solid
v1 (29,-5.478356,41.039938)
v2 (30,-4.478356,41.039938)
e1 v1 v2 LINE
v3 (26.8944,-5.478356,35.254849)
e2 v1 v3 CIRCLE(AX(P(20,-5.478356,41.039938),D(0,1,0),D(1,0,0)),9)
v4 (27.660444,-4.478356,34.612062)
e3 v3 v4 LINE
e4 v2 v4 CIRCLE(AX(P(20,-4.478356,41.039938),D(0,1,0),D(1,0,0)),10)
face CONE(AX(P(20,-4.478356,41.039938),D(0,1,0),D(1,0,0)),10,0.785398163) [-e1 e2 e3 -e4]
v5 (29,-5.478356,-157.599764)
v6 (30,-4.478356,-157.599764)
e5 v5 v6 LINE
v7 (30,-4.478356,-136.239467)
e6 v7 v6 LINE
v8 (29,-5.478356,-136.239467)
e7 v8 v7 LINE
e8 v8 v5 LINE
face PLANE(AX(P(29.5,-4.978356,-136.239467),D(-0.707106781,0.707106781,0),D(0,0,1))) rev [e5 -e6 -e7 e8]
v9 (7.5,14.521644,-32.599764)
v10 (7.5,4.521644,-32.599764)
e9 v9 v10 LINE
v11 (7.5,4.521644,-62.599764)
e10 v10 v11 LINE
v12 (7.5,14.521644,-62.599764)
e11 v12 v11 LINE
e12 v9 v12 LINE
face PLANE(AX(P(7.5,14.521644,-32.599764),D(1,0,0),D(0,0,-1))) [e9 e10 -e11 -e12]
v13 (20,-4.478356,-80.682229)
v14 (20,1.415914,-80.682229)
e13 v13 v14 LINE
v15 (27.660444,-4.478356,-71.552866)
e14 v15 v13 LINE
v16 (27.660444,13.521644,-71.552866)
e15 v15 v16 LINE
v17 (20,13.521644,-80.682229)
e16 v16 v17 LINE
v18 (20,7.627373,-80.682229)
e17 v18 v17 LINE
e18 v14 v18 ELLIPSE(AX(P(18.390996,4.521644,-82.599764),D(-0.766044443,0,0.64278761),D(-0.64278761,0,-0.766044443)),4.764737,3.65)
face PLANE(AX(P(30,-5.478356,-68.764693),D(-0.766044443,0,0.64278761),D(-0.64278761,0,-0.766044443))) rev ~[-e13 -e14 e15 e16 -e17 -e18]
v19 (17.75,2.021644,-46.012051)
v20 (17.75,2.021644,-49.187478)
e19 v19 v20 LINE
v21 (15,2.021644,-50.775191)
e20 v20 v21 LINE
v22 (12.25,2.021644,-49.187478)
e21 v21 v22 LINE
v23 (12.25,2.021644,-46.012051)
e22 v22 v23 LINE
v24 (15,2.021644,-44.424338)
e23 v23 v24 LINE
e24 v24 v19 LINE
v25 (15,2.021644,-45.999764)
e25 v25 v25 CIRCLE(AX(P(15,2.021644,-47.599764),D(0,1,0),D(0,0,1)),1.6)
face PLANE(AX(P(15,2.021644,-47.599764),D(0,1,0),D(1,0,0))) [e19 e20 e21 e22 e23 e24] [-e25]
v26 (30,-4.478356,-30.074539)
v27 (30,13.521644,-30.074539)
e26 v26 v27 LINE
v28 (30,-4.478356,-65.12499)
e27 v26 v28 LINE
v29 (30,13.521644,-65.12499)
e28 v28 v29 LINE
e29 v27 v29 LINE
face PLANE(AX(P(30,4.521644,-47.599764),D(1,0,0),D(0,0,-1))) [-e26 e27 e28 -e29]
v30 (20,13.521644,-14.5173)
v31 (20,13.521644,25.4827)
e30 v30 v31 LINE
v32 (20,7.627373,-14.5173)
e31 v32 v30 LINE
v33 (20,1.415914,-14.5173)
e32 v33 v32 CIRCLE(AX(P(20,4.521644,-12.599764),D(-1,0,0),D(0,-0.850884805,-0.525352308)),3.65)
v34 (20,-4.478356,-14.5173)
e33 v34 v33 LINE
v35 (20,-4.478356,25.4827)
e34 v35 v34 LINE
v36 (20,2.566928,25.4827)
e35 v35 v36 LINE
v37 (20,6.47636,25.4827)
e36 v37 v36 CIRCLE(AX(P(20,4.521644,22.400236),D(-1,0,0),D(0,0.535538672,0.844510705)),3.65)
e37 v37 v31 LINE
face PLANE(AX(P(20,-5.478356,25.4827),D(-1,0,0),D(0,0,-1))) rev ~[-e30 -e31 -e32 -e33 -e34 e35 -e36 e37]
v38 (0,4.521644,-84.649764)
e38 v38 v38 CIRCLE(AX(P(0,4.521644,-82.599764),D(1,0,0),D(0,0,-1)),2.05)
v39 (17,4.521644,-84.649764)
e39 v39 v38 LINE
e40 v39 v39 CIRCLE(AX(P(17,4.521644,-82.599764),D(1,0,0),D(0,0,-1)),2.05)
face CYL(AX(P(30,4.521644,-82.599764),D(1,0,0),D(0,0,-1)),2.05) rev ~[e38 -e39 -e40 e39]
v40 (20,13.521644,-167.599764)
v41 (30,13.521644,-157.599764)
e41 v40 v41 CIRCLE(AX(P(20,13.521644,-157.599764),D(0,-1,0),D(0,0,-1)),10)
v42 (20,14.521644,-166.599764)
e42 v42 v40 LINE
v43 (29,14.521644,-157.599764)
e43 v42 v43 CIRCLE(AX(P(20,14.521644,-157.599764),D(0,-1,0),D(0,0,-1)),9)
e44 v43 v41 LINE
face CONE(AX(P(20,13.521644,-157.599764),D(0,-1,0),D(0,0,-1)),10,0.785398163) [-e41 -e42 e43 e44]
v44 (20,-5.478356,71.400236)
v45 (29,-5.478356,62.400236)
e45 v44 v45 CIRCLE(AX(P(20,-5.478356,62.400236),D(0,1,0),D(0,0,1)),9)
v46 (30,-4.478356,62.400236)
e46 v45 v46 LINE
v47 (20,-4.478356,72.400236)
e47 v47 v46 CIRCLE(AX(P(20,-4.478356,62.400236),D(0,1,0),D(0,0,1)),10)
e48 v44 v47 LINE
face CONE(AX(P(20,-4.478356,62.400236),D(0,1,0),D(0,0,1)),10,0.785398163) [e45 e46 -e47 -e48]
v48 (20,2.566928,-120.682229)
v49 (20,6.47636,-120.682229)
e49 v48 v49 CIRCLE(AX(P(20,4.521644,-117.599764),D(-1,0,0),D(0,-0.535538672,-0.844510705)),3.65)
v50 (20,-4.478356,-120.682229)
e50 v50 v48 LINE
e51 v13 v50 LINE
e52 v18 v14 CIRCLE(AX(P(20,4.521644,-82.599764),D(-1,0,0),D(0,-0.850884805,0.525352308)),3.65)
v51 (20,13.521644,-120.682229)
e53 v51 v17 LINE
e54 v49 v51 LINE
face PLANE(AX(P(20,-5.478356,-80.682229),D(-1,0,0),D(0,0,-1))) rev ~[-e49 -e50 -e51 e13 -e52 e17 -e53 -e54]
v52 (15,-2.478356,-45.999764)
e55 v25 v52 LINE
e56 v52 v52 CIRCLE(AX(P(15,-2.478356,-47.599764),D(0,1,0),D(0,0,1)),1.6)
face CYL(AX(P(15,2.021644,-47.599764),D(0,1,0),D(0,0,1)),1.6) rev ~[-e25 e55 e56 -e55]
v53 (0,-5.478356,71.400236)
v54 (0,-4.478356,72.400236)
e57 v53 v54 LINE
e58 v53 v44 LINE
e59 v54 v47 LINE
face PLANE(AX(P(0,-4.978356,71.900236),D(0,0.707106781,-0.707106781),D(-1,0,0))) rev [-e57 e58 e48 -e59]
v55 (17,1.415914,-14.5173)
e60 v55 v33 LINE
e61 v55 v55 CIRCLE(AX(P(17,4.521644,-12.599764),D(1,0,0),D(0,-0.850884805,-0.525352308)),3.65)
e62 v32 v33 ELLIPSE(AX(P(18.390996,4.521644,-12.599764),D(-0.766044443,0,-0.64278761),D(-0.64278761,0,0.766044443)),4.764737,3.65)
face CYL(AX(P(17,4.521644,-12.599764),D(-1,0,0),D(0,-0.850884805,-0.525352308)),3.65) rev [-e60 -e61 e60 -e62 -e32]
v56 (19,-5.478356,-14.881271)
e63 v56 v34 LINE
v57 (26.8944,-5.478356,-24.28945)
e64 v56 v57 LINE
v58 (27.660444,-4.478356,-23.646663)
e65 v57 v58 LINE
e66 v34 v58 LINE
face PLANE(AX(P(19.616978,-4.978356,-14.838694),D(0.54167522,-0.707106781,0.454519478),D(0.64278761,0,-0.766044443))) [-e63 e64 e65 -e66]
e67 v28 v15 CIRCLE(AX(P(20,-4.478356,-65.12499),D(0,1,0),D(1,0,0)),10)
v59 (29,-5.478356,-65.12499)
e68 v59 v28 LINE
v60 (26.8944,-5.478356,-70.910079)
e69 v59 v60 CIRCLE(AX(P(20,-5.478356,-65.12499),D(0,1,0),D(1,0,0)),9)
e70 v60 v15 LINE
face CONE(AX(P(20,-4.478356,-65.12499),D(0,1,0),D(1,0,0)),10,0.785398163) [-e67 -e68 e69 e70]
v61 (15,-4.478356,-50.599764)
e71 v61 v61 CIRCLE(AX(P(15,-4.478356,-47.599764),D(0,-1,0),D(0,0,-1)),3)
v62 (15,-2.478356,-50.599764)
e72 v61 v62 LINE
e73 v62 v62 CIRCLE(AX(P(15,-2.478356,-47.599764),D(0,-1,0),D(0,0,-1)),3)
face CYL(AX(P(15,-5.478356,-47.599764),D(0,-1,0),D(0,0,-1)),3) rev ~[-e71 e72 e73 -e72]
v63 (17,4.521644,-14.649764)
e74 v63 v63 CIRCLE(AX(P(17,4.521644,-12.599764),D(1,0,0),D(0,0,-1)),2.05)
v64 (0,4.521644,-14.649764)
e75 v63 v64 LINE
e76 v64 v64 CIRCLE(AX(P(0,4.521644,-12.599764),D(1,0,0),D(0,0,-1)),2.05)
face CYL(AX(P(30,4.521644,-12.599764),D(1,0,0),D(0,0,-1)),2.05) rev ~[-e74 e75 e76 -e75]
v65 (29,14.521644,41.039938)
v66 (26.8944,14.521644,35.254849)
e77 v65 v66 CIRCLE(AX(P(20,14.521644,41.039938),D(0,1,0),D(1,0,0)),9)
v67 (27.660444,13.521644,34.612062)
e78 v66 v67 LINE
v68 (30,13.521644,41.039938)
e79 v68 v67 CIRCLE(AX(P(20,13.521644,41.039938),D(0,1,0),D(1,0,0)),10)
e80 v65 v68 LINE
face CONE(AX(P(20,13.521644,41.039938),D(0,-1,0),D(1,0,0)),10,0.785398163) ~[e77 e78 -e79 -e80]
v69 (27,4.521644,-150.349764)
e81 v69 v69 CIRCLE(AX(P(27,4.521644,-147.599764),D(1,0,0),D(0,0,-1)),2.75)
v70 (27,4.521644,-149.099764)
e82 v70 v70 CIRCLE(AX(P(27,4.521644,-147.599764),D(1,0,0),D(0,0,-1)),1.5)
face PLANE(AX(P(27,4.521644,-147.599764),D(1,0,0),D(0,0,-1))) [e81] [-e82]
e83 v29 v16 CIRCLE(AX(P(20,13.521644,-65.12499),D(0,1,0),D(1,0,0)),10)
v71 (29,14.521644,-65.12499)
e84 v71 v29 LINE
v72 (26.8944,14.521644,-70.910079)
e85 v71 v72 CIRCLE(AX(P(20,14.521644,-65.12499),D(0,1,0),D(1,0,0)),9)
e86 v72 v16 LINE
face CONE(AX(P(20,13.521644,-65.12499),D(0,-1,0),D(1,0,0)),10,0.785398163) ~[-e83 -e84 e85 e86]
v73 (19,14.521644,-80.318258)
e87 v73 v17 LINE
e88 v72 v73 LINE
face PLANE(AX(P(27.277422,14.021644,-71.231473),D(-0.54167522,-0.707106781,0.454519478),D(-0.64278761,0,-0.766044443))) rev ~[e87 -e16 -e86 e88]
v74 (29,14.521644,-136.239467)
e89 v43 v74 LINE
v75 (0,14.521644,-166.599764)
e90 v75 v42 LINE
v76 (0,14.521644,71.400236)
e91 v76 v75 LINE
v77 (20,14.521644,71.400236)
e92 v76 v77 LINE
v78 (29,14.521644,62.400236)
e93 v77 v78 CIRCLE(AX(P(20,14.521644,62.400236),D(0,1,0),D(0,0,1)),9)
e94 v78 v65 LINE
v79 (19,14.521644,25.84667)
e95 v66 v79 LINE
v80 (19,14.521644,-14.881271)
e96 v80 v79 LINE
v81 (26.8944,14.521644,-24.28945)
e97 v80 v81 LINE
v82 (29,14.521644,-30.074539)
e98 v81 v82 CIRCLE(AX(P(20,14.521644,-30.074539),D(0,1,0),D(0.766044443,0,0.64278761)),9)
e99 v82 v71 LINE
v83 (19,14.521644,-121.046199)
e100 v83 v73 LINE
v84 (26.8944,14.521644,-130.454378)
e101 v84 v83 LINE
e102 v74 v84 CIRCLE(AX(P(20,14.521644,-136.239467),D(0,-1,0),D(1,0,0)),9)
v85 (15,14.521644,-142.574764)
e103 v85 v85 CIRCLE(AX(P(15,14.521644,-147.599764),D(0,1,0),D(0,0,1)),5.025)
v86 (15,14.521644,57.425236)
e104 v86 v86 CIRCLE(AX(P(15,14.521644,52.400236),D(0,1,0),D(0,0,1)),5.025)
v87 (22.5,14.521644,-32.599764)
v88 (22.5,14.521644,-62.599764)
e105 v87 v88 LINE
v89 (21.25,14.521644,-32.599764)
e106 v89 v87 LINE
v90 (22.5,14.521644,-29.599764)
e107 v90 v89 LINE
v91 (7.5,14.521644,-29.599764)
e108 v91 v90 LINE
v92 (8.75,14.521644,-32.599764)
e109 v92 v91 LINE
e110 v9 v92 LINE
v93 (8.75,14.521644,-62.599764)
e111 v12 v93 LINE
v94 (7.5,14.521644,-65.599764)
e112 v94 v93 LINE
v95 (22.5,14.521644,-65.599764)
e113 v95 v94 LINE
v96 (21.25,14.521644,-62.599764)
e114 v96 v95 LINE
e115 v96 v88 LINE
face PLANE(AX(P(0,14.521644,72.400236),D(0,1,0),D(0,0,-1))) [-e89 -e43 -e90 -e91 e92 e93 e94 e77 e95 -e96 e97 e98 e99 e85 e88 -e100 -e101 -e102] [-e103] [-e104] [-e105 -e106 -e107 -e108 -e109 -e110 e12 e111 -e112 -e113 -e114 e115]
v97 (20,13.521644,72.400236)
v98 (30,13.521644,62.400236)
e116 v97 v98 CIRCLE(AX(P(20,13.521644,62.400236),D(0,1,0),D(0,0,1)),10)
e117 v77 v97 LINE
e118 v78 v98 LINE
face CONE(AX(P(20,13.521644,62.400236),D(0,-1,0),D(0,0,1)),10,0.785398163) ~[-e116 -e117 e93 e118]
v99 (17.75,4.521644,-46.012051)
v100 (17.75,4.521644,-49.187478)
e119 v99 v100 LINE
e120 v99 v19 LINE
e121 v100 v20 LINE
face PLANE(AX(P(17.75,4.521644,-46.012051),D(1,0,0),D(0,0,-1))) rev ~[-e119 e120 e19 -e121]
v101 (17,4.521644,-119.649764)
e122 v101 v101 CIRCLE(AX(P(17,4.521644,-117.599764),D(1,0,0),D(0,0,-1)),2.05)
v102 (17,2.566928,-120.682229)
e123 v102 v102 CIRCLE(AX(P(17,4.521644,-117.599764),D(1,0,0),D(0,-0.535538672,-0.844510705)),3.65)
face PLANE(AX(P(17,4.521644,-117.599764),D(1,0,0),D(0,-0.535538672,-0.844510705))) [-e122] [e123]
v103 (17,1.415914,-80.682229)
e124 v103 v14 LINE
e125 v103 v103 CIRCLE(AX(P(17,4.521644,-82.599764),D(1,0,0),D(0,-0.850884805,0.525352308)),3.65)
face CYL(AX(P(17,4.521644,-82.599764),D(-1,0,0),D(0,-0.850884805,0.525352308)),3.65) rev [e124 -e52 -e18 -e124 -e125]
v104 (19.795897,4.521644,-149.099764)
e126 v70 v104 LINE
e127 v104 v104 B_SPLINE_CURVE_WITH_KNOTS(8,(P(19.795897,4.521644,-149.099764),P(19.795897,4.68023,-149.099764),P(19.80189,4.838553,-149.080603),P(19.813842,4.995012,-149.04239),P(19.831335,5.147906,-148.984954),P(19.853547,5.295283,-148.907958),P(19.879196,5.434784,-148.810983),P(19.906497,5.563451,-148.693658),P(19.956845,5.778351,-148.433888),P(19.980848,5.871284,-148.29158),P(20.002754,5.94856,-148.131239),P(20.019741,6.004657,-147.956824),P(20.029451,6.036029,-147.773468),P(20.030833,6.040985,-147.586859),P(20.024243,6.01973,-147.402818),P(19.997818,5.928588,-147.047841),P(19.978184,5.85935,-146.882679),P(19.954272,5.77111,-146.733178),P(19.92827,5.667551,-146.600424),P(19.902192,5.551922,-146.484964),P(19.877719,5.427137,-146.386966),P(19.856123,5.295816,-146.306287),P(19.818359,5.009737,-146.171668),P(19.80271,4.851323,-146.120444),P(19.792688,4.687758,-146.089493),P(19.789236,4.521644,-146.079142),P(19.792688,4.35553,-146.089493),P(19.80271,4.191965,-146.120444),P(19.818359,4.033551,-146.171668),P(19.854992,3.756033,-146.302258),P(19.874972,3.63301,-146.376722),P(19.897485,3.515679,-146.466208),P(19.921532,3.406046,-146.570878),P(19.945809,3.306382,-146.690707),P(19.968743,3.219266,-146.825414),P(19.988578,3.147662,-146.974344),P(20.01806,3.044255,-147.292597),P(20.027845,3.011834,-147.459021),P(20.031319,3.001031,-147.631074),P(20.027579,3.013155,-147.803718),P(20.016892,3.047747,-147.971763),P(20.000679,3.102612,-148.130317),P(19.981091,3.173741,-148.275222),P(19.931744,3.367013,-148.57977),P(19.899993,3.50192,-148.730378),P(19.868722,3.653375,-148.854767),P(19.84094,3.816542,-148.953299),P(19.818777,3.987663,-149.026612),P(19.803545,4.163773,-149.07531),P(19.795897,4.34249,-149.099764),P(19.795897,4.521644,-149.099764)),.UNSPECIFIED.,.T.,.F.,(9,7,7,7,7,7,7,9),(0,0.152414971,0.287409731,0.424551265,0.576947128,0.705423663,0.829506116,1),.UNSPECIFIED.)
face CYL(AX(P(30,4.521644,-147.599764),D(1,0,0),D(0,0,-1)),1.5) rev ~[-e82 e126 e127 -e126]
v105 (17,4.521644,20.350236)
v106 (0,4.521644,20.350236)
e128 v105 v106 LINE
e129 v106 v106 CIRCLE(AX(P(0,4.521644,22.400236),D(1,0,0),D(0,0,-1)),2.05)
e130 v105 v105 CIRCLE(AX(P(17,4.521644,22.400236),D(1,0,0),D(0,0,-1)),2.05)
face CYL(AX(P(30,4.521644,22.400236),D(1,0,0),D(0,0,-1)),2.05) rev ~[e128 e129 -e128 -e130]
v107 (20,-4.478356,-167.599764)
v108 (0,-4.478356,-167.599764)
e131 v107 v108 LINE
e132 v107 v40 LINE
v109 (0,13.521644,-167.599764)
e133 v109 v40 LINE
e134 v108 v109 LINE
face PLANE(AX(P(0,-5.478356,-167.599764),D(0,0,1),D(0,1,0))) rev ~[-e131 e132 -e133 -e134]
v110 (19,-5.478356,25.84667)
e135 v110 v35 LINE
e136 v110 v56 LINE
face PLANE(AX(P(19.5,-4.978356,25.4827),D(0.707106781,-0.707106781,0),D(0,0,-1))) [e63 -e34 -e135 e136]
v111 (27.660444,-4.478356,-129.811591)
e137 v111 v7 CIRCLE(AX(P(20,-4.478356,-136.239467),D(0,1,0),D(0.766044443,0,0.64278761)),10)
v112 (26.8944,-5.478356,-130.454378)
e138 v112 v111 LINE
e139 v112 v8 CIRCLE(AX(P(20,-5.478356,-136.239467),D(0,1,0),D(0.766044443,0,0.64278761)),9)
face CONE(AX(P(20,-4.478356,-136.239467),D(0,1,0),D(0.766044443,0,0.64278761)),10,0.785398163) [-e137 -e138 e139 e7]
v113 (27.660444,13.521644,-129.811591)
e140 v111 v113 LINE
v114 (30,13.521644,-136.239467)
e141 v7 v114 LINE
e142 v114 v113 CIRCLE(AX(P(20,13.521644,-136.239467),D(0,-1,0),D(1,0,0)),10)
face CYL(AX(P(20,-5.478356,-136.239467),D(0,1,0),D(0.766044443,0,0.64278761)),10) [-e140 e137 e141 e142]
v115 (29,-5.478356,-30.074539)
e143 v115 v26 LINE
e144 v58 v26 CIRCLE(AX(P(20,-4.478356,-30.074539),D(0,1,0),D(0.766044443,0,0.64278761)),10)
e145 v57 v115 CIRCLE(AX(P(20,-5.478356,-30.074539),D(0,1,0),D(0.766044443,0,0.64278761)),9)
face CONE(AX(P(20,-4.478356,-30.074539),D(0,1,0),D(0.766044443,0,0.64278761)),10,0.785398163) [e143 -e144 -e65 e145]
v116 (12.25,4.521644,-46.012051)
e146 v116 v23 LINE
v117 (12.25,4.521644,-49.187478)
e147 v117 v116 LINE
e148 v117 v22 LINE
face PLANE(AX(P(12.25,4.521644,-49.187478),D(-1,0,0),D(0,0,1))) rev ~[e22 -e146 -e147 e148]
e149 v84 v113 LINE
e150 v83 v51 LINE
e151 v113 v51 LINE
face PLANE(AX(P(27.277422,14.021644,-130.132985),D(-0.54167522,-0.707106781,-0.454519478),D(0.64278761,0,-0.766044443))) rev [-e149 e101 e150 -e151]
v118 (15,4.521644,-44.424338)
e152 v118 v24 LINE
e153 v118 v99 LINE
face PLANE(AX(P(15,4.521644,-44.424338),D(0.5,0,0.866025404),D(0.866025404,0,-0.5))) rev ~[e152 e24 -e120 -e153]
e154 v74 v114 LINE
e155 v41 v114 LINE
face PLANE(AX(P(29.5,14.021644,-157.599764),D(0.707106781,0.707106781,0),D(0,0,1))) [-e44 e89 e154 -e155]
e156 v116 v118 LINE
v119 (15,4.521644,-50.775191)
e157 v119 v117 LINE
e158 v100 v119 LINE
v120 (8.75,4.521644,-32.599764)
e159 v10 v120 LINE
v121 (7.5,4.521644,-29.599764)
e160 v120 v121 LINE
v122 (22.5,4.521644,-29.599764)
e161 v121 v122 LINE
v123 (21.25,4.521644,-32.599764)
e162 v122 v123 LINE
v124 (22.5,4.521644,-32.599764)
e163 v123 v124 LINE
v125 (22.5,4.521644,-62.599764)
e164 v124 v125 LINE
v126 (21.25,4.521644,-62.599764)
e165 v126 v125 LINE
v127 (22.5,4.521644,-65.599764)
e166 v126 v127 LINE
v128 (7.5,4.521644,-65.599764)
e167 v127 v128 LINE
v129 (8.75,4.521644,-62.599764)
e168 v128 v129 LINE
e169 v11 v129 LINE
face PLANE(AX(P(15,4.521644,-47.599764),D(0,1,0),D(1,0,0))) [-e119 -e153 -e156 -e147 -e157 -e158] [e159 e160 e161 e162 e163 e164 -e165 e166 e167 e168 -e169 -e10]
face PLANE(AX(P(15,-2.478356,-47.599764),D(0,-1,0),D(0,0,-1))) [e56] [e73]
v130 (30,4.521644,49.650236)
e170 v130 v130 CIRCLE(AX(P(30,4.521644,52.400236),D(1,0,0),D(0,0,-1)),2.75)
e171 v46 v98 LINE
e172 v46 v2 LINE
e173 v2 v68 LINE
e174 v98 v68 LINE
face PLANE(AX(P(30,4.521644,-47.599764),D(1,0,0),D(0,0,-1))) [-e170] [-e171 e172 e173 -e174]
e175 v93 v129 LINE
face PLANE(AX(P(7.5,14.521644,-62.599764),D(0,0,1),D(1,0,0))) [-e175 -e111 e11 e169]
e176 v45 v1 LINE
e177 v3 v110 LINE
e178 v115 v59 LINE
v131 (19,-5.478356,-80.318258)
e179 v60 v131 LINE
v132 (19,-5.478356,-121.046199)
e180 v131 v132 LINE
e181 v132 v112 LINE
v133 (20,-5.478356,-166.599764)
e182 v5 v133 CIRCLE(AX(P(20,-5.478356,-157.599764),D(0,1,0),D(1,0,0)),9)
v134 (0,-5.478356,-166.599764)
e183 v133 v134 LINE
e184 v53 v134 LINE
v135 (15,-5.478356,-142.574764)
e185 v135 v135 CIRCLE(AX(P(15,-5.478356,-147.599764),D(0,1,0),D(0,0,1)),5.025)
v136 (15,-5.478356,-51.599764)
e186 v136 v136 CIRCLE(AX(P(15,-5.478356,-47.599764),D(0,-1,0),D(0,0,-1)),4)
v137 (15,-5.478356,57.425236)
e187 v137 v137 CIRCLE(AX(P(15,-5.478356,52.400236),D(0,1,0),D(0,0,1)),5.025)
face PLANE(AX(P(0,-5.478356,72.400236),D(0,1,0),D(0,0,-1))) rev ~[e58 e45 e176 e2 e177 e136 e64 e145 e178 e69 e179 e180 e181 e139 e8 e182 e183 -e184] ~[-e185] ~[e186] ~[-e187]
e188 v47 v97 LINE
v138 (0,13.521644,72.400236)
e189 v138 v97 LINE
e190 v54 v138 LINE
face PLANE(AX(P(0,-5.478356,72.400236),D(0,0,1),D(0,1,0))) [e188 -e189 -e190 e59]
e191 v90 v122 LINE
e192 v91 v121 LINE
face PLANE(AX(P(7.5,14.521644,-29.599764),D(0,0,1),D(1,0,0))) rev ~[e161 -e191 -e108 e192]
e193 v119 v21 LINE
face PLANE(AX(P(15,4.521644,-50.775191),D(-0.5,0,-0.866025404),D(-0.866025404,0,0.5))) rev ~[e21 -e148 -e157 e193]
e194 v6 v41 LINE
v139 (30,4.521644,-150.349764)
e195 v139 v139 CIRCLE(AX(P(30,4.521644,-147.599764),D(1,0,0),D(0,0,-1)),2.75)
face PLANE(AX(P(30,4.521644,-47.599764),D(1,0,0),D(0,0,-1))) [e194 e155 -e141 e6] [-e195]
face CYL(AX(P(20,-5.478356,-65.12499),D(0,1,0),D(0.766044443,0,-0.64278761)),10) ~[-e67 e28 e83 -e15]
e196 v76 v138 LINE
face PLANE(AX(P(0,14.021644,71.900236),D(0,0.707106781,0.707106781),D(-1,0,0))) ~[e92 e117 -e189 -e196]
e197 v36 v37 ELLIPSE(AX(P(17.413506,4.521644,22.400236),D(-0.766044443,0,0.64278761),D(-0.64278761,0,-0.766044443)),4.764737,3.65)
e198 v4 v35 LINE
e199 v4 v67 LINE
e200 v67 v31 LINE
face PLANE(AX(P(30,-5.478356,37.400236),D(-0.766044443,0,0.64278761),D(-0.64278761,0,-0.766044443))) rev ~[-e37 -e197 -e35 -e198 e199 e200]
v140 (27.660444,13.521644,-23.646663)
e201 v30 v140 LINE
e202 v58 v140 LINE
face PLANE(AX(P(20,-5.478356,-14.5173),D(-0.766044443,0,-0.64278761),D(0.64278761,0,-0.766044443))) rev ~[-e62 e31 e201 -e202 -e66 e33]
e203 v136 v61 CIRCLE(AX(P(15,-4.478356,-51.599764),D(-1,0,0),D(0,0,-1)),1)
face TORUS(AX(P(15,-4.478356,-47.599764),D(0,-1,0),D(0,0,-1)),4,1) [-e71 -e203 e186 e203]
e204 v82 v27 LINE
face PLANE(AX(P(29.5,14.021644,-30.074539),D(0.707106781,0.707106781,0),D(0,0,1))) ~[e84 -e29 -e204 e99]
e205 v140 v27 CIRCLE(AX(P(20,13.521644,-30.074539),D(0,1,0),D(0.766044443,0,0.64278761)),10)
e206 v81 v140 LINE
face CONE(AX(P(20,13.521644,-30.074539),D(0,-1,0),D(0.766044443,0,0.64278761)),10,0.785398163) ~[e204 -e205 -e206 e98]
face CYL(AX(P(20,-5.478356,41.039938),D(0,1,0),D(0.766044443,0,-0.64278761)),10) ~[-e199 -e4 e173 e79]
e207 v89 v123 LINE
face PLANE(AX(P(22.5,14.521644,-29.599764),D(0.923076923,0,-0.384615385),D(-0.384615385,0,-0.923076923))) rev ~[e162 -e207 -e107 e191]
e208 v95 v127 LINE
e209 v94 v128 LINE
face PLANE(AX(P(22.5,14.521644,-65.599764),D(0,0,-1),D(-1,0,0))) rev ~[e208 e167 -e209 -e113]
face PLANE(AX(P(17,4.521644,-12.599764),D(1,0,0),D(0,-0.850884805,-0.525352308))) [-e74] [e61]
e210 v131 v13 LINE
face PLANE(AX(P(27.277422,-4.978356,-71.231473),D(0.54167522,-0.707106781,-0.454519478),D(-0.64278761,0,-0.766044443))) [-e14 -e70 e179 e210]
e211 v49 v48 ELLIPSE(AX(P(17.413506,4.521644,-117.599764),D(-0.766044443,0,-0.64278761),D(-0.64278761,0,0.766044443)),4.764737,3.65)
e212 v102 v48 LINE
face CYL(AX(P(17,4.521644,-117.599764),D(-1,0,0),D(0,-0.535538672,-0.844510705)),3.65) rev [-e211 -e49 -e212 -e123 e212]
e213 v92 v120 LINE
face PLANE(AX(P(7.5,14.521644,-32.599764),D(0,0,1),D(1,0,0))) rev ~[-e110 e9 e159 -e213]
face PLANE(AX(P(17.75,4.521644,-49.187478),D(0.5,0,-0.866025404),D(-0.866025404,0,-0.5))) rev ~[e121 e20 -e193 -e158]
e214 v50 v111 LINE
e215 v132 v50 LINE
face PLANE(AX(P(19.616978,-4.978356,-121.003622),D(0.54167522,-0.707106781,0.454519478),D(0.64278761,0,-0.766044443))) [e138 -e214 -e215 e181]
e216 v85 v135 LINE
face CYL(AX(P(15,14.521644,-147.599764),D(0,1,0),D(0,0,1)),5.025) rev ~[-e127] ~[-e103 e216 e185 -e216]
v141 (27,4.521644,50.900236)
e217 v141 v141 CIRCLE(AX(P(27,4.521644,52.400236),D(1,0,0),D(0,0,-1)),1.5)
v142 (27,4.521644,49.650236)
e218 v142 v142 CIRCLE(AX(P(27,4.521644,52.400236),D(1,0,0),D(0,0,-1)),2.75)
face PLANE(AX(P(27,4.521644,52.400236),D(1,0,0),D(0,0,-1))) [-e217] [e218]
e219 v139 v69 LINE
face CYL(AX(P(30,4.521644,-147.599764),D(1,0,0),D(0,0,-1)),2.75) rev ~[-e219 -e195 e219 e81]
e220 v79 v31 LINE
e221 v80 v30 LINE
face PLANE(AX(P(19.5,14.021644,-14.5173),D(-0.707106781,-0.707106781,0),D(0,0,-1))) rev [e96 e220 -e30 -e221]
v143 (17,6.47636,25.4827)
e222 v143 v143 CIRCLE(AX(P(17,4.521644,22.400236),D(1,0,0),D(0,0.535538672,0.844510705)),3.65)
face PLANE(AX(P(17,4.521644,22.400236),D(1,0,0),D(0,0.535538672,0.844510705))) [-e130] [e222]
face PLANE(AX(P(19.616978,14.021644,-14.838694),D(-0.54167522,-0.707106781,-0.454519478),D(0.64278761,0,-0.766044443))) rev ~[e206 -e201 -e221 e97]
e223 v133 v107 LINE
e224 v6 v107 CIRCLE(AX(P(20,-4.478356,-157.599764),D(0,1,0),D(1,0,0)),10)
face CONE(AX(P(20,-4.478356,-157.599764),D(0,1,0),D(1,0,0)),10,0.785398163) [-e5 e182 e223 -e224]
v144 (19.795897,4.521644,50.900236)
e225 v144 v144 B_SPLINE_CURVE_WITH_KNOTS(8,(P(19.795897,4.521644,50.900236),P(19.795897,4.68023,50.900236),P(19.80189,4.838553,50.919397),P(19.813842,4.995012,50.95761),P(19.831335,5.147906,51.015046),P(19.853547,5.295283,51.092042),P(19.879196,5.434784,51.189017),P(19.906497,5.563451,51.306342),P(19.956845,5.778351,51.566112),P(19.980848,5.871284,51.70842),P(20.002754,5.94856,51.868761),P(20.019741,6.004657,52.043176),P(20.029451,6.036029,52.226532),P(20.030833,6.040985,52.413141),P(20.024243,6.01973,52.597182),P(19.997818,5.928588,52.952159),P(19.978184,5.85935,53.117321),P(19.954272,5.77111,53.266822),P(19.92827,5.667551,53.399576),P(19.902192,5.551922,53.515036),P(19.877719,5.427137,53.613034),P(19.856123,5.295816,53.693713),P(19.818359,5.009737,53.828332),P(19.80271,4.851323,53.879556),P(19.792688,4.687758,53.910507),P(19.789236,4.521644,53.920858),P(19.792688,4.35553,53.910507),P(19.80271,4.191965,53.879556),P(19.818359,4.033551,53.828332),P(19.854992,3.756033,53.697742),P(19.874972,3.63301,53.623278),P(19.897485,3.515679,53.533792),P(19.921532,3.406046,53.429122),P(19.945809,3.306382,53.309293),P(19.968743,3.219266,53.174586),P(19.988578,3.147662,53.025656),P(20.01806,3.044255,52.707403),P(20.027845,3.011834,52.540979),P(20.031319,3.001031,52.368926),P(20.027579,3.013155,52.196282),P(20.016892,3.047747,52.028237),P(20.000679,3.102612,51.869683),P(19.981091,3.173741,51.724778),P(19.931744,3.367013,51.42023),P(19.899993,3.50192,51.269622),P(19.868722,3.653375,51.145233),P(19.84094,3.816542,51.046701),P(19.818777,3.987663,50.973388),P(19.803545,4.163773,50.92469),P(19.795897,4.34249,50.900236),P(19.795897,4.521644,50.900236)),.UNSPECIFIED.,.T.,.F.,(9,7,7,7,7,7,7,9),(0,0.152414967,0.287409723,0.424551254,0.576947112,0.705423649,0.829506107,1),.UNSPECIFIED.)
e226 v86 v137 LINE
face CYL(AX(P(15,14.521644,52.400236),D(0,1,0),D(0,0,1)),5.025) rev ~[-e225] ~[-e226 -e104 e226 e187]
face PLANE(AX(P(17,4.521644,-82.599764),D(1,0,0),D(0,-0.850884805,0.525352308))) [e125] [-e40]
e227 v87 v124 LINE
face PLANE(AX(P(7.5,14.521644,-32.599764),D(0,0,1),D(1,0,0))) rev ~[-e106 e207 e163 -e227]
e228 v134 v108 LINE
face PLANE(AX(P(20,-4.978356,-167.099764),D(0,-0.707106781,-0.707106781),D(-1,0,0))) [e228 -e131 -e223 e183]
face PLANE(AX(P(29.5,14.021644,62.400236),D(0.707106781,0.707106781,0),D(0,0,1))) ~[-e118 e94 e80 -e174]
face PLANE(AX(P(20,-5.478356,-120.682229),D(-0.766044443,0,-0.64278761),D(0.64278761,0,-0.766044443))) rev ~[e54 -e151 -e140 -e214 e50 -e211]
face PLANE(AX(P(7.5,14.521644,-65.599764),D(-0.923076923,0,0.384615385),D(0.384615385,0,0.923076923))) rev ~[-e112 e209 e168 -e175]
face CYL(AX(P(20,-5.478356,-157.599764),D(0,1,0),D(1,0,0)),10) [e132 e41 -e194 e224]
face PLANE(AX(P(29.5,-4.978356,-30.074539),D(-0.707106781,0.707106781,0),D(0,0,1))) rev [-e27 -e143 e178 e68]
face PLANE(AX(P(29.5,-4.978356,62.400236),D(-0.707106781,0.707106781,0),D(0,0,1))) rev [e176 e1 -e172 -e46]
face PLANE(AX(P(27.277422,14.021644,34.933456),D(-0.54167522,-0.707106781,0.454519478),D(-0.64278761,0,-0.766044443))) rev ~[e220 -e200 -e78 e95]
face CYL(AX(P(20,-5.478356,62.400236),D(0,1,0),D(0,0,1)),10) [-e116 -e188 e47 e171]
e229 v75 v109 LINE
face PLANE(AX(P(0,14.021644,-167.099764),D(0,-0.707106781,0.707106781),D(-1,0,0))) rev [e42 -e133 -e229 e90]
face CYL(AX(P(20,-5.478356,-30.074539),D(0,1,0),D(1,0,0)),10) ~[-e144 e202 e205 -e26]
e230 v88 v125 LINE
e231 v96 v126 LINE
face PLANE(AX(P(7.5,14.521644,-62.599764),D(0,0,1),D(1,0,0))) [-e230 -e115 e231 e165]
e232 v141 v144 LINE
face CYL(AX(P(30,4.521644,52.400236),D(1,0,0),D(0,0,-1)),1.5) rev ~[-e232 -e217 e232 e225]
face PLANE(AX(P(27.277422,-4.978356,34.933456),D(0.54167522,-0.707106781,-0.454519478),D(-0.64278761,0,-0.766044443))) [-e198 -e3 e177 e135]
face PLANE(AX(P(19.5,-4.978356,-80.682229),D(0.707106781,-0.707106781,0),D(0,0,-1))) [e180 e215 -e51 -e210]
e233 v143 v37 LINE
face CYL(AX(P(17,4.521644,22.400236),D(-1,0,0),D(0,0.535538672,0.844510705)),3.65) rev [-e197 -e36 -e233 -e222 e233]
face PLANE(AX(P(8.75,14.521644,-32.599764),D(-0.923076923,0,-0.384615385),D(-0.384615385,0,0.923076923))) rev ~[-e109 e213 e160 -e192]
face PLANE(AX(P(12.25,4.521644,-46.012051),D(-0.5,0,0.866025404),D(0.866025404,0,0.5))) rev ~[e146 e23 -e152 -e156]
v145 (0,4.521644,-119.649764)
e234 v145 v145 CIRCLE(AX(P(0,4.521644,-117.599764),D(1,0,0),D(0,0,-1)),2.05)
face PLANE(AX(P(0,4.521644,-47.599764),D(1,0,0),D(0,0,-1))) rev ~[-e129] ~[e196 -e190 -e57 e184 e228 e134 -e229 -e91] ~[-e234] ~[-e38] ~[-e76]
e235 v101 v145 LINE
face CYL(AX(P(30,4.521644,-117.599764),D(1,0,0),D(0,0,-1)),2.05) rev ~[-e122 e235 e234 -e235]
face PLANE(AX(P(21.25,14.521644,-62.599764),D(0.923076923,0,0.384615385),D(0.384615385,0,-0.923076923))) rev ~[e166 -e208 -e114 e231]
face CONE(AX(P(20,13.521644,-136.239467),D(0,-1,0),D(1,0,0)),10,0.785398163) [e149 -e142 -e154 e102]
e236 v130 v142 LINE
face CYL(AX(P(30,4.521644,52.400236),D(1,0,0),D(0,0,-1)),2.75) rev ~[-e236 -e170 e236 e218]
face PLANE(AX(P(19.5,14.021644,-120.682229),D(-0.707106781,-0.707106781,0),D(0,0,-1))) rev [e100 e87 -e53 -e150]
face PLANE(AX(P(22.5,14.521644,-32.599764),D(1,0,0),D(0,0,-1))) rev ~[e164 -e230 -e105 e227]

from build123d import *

# Parameters (mm, degrees)
SKETCH1_W               = 240
SKETCH1_H               = 20
BOSS_EXTRUDE1_DEPTH     = 30
SKETCH2_R               = 5.025
CUT_EXTRUDE1_DEPTH      = 20
SKETCH3_R               = 2.05
CUT_EXTRUDE2_DEPTH      = 30
SKETCH4_W               = 15
SKETCH4_H               = 30
CUT_EXTRUDE3_DEPTH      = 10
CUT_EXTRUDE4_DEPTH      = 2.5
CUT_EXTRUDE5_DEPTH      = 32.5
FILLET1_R               = 10
FILLET2_R               = 10
CHAMFER1_SIZE           = 1
CHAMFER2_SIZE           = 1
SKETCH7_R               = 1.6
CUT_EXTRUDE6_DEPTH      = 32.5
CUT_EXTRUDE7_DEPTH      = 10
SKETCH9_R               = 3
CUT_EXTRUDE8_DEPTH      = 3
FILLET3_R               = 1
CUT_EXTRUDE9_DEPTH      = 3
CUT_EXTRUDE9_DEPTH_BACK = 3
SKETCH10_R              = 3.65
SKETCH11_R              = 1.5
CUT_EXTRUDE10_DEPTH     = 13
SKETCH12_R              = 2.75
SKETCH12_R_2            = 1.5
CUT_EXTRUDE11_DEPTH     = 3


with BuildPart() as part:
    # Sketch1 → Boss-Extrude1 (new body)
    with BuildSketch(Plane(origin=(0, 0, 0), x_dir=(0, 0, -1), z_dir=(1, 0, 0))):
        with Locations((47.599764496, 4.521643901)):
            Rectangle(SKETCH1_W, SKETCH1_H)
    extrude(amount=BOSS_EXTRUDE1_DEPTH)

    # Sketch2 → Cut-Extrude1 (cut)
    with BuildSketch(Plane(origin=(0, 14.521643901, 0), x_dir=(1, 0, 0), z_dir=(0, 1, 0))):
        with Locations(Location((15, 147.599764496, 0), (0, 0, 270))):
            Circle(SKETCH2_R)
        with Locations(Location((15, -52.400235504, 0), (0, 0, 270))):
            Circle(SKETCH2_R)
    extrude(amount=-CUT_EXTRUDE1_DEPTH, mode=Mode.SUBTRACT)

    # Sketch3 → Cut-Extrude2 (cut)
    with BuildSketch(Plane(origin=(30, 0, 0), x_dir=(0, 0, -1), z_dir=(1, 0, 0))):
        with Locations((117.599764496, 4.521643901)):
            Circle(SKETCH3_R)
        with Locations((-22.400235504, 4.521643901)):
            Circle(SKETCH3_R)
        with Locations((12.599764496, 4.521643901)):
            Circle(SKETCH3_R)
        with Locations((82.599764496, 4.521643901)):
            Circle(SKETCH3_R)
    extrude(amount=-CUT_EXTRUDE2_DEPTH, mode=Mode.SUBTRACT)

    # Sketch4 → Cut-Extrude3 (cut)
    with BuildSketch(Plane(origin=(0, 14.521643901, 0), x_dir=(1, 0, 0), z_dir=(0, 1, 0))):
        with Locations((15, 47.599764496)):
            Rectangle(SKETCH4_W, SKETCH4_H)
    extrude(amount=-CUT_EXTRUDE3_DEPTH, mode=Mode.SUBTRACT)

    # Sketch5 → Cut-Extrude4 (cut)
    with BuildSketch(Plane(origin=(0, 4.521643901, 0), x_dir=(1, 0, 0), z_dir=(0, 1, 0))):
        Polygon((15, 44.424338015), (17.75, 46.012051256), (17.75, 49.187477736), (15, 50.775190977), (12.25, 49.187477736), (12.25, 46.012051256), align=None)
    extrude(amount=-CUT_EXTRUDE4_DEPTH, mode=Mode.SUBTRACT)

    # Sketch6 → Cut-Extrude5 (cut)
    with BuildSketch(Plane.XZ.offset(5.478356099)):
        Polygon((30, 37.400235504), (20, 25.482699578), (20, -14.517300422), (30, -26.434836348), align=None)
        Polygon((30, -68.764692644), (20, -80.68222857), (20, -120.68222857), (30, -132.599764496), align=None)
    extrude(amount=-CUT_EXTRUDE5_DEPTH, mode=Mode.SUBTRACT)

    # Fillet1
    fillet1_edges = [part.edges().sort_by_distance(p)[0] for p in [
        (30, 4.521643901, -68.764692644),
        (30, 4.521643901, -26.434836348),
    ]]
    fillet(fillet1_edges, radius=FILLET1_R)

    # Fillet2
    fillet2_edges = [part.edges().sort_by_distance(p)[0] for p in [
        (30, 4.521643901, -132.599764496),
        (30, 4.521643901, 72.400235504),
        (30, 4.521643901, -167.599764496),
        (30, 4.521643901, 37.400235504),
    ]]
    fillet(fillet2_edges, radius=FILLET2_R)

    # Chamfer1
    chamfer1_edges = [part.edges().sort_by_distance(p)[0] for p in [
        (20, -5.478356099, -100.68222857),
        (23.830222216, -5.478356099, -125.246909656),
        (30, -5.478356099, -47.599764496),
        (23.830222216, -5.478356099, -76.117547484),
        (29.396926208, -5.478356099, -68.545191735),
        (29.396926208, -5.478356099, -26.654337257),
        (30, -5.478356099, 51.720086675),
        (23.830222216, -5.478356099, 30.047380664),
        (10, -5.478356099, 72.400235504),
        (10, -5.478356099, -167.599764496),
        (30, -5.478356099, -146.919615667),
        (29.396926208, -5.478356099, 37.619736413),
        (29.396926208, -5.478356099, -132.819265405),
        (27.071067812, -5.478356099, -164.670832308),
        (27.071067812, -5.478356099, 69.471303316),
        (20, -5.478356099, 5.482699578),
        (23.830222216, -5.478356099, -19.081981508),
    ]]
    chamfer(chamfer1_edges, length=CHAMFER1_SIZE)

    # Chamfer2
    chamfer2_edges = [part.edges().sort_by_distance(p)[0] for p in [
        (23.830222216, 14.521643901, -125.246909656),
        (20, 14.521643901, -100.68222857),
        (30, 14.521643901, -47.599764496),
        (23.830222216, 14.521643901, -76.117547484),
        (29.396926208, 14.521643901, -68.545191735),
        (29.396926208, 14.521643901, -26.654337257),
        (30, 14.521643901, 51.720086675),
        (10, 14.521643901, 72.400235504),
        (30, 14.521643901, -146.919615667),
        (10, 14.521643901, -167.599764496),
        (23.830222216, 14.521643901, 30.047380664),
        (29.396926208, 14.521643901, 37.619736413),
        (29.396926208, 14.521643901, -132.819265405),
        (27.071067812, 14.521643901, -164.670832308),
        (27.071067812, 14.521643901, 69.471303316),
        (23.830222216, 14.521643901, -19.081981508),
        (20, 14.521643901, 5.482699578),
    ]]
    chamfer(chamfer2_edges, length=CHAMFER2_SIZE)

    # Sketch7 → Cut-Extrude6 (cut)
    with BuildSketch(Plane(origin=(0, 2.021643901, 0), x_dir=(1, 0, 0), z_dir=(0, 1, 0))):
        with Locations(Location((15, 47.599764496, 0), (0, 0, 270))):
            Circle(SKETCH7_R)
    extrude(amount=-CUT_EXTRUDE6_DEPTH, mode=Mode.SUBTRACT)

    # Sketch8 → Cut-Extrude7 (cut)
    with BuildSketch(Plane(origin=(0, 14.521643901, 0), x_dir=(1, 0, 0), z_dir=(0, 1, 0))):
        Polygon((7.5, 65.599764496), (8.75, 62.599764496), (21.25, 62.599764496), (22.5, 65.599764496), align=None)
        Polygon((21.25, 32.599764496), (8.75, 32.599764496), (7.5, 29.599764496), (22.5, 29.599764496), align=None)
    extrude(amount=-CUT_EXTRUDE7_DEPTH, mode=Mode.SUBTRACT)

    # Sketch9 → Cut-Extrude8 (cut)
    with BuildSketch(Plane.XZ.offset(5.478356099)):
        with Locations(Location((15, -47.599764496, 0), (0, 0, 270))):
            Circle(SKETCH9_R)
    extrude(amount=-CUT_EXTRUDE8_DEPTH, mode=Mode.SUBTRACT)

    # Fillet3
    fillet3_edges = [part.edges().sort_by_distance(p)[0] for p in [
        (15, -5.478356099, -44.599764496),
    ]]
    fillet(fillet3_edges, radius=FILLET3_R)

    # Sketch10 → Cut-Extrude9 (cut, two sides: drawn at the far end of the back side and taken through both)
    with BuildSketch(Plane(origin=(20, 0, 0), x_dir=(0, 0, -1), z_dir=(1, 0, 0)).offset(-CUT_EXTRUDE9_DEPTH_BACK)):
        with Locations(Location((12.599764496, 4.521643901, 0), (0, 0, 301.691963515))):
            Circle(SKETCH10_R)
        with Locations(Location((-22.400235504, 4.521643901, 0), (0, 0, 147.61954983))):
            Circle(SKETCH10_R)
        with Locations(Location((82.599764496, 4.521643901, 0), (0, 0, 238.308036485))):
            Circle(SKETCH10_R)
        with Locations(Location((117.599764496, 4.521643901, 0), (0, 0, 327.61954983))):
            Circle(SKETCH10_R)
    extrude(amount=CUT_EXTRUDE9_DEPTH + CUT_EXTRUDE9_DEPTH_BACK, mode=Mode.SUBTRACT)

    # Sketch11 → Cut-Extrude10 (cut)
    with BuildSketch(Plane(origin=(30, 0, 0), x_dir=(0, 0, -1), z_dir=(1, 0, 0))):
        with Locations((147.599764496, 4.521643901)):
            Circle(SKETCH11_R)
        with Locations((-52.400235504, 4.521643901)):
            Circle(SKETCH11_R)
    extrude(amount=-CUT_EXTRUDE10_DEPTH, mode=Mode.SUBTRACT)

    # Sketch12 → Cut-Extrude11 (cut)
    # profile 1 of 2: a face of its own
    with BuildSketch(Plane(origin=(30, 0, 0), x_dir=(0, 0, -1), z_dir=(1, 0, 0))):
        with Locations((-52.400235504, 4.521643901)):
            Circle(SKETCH12_R)
        with Locations((-52.400235504, 4.521643901)):
            Circle(SKETCH12_R_2, mode=Mode.SUBTRACT)
    # profile 2 of 2: a face of its own
    with BuildSketch(Plane(origin=(30, 0, 0), x_dir=(0, 0, -1), z_dir=(1, 0, 0))):
        with Locations((147.599764496, 4.521643901)):
            Circle(SKETCH12_R)
        with Locations((147.599764496, 4.521643901)):
            Circle(SKETCH12_R_2, mode=Mode.SUBTRACT)
    extrude(amount=-CUT_EXTRUDE11_DEPTH, mode=Mode.SUBTRACT)


solid = part.part
